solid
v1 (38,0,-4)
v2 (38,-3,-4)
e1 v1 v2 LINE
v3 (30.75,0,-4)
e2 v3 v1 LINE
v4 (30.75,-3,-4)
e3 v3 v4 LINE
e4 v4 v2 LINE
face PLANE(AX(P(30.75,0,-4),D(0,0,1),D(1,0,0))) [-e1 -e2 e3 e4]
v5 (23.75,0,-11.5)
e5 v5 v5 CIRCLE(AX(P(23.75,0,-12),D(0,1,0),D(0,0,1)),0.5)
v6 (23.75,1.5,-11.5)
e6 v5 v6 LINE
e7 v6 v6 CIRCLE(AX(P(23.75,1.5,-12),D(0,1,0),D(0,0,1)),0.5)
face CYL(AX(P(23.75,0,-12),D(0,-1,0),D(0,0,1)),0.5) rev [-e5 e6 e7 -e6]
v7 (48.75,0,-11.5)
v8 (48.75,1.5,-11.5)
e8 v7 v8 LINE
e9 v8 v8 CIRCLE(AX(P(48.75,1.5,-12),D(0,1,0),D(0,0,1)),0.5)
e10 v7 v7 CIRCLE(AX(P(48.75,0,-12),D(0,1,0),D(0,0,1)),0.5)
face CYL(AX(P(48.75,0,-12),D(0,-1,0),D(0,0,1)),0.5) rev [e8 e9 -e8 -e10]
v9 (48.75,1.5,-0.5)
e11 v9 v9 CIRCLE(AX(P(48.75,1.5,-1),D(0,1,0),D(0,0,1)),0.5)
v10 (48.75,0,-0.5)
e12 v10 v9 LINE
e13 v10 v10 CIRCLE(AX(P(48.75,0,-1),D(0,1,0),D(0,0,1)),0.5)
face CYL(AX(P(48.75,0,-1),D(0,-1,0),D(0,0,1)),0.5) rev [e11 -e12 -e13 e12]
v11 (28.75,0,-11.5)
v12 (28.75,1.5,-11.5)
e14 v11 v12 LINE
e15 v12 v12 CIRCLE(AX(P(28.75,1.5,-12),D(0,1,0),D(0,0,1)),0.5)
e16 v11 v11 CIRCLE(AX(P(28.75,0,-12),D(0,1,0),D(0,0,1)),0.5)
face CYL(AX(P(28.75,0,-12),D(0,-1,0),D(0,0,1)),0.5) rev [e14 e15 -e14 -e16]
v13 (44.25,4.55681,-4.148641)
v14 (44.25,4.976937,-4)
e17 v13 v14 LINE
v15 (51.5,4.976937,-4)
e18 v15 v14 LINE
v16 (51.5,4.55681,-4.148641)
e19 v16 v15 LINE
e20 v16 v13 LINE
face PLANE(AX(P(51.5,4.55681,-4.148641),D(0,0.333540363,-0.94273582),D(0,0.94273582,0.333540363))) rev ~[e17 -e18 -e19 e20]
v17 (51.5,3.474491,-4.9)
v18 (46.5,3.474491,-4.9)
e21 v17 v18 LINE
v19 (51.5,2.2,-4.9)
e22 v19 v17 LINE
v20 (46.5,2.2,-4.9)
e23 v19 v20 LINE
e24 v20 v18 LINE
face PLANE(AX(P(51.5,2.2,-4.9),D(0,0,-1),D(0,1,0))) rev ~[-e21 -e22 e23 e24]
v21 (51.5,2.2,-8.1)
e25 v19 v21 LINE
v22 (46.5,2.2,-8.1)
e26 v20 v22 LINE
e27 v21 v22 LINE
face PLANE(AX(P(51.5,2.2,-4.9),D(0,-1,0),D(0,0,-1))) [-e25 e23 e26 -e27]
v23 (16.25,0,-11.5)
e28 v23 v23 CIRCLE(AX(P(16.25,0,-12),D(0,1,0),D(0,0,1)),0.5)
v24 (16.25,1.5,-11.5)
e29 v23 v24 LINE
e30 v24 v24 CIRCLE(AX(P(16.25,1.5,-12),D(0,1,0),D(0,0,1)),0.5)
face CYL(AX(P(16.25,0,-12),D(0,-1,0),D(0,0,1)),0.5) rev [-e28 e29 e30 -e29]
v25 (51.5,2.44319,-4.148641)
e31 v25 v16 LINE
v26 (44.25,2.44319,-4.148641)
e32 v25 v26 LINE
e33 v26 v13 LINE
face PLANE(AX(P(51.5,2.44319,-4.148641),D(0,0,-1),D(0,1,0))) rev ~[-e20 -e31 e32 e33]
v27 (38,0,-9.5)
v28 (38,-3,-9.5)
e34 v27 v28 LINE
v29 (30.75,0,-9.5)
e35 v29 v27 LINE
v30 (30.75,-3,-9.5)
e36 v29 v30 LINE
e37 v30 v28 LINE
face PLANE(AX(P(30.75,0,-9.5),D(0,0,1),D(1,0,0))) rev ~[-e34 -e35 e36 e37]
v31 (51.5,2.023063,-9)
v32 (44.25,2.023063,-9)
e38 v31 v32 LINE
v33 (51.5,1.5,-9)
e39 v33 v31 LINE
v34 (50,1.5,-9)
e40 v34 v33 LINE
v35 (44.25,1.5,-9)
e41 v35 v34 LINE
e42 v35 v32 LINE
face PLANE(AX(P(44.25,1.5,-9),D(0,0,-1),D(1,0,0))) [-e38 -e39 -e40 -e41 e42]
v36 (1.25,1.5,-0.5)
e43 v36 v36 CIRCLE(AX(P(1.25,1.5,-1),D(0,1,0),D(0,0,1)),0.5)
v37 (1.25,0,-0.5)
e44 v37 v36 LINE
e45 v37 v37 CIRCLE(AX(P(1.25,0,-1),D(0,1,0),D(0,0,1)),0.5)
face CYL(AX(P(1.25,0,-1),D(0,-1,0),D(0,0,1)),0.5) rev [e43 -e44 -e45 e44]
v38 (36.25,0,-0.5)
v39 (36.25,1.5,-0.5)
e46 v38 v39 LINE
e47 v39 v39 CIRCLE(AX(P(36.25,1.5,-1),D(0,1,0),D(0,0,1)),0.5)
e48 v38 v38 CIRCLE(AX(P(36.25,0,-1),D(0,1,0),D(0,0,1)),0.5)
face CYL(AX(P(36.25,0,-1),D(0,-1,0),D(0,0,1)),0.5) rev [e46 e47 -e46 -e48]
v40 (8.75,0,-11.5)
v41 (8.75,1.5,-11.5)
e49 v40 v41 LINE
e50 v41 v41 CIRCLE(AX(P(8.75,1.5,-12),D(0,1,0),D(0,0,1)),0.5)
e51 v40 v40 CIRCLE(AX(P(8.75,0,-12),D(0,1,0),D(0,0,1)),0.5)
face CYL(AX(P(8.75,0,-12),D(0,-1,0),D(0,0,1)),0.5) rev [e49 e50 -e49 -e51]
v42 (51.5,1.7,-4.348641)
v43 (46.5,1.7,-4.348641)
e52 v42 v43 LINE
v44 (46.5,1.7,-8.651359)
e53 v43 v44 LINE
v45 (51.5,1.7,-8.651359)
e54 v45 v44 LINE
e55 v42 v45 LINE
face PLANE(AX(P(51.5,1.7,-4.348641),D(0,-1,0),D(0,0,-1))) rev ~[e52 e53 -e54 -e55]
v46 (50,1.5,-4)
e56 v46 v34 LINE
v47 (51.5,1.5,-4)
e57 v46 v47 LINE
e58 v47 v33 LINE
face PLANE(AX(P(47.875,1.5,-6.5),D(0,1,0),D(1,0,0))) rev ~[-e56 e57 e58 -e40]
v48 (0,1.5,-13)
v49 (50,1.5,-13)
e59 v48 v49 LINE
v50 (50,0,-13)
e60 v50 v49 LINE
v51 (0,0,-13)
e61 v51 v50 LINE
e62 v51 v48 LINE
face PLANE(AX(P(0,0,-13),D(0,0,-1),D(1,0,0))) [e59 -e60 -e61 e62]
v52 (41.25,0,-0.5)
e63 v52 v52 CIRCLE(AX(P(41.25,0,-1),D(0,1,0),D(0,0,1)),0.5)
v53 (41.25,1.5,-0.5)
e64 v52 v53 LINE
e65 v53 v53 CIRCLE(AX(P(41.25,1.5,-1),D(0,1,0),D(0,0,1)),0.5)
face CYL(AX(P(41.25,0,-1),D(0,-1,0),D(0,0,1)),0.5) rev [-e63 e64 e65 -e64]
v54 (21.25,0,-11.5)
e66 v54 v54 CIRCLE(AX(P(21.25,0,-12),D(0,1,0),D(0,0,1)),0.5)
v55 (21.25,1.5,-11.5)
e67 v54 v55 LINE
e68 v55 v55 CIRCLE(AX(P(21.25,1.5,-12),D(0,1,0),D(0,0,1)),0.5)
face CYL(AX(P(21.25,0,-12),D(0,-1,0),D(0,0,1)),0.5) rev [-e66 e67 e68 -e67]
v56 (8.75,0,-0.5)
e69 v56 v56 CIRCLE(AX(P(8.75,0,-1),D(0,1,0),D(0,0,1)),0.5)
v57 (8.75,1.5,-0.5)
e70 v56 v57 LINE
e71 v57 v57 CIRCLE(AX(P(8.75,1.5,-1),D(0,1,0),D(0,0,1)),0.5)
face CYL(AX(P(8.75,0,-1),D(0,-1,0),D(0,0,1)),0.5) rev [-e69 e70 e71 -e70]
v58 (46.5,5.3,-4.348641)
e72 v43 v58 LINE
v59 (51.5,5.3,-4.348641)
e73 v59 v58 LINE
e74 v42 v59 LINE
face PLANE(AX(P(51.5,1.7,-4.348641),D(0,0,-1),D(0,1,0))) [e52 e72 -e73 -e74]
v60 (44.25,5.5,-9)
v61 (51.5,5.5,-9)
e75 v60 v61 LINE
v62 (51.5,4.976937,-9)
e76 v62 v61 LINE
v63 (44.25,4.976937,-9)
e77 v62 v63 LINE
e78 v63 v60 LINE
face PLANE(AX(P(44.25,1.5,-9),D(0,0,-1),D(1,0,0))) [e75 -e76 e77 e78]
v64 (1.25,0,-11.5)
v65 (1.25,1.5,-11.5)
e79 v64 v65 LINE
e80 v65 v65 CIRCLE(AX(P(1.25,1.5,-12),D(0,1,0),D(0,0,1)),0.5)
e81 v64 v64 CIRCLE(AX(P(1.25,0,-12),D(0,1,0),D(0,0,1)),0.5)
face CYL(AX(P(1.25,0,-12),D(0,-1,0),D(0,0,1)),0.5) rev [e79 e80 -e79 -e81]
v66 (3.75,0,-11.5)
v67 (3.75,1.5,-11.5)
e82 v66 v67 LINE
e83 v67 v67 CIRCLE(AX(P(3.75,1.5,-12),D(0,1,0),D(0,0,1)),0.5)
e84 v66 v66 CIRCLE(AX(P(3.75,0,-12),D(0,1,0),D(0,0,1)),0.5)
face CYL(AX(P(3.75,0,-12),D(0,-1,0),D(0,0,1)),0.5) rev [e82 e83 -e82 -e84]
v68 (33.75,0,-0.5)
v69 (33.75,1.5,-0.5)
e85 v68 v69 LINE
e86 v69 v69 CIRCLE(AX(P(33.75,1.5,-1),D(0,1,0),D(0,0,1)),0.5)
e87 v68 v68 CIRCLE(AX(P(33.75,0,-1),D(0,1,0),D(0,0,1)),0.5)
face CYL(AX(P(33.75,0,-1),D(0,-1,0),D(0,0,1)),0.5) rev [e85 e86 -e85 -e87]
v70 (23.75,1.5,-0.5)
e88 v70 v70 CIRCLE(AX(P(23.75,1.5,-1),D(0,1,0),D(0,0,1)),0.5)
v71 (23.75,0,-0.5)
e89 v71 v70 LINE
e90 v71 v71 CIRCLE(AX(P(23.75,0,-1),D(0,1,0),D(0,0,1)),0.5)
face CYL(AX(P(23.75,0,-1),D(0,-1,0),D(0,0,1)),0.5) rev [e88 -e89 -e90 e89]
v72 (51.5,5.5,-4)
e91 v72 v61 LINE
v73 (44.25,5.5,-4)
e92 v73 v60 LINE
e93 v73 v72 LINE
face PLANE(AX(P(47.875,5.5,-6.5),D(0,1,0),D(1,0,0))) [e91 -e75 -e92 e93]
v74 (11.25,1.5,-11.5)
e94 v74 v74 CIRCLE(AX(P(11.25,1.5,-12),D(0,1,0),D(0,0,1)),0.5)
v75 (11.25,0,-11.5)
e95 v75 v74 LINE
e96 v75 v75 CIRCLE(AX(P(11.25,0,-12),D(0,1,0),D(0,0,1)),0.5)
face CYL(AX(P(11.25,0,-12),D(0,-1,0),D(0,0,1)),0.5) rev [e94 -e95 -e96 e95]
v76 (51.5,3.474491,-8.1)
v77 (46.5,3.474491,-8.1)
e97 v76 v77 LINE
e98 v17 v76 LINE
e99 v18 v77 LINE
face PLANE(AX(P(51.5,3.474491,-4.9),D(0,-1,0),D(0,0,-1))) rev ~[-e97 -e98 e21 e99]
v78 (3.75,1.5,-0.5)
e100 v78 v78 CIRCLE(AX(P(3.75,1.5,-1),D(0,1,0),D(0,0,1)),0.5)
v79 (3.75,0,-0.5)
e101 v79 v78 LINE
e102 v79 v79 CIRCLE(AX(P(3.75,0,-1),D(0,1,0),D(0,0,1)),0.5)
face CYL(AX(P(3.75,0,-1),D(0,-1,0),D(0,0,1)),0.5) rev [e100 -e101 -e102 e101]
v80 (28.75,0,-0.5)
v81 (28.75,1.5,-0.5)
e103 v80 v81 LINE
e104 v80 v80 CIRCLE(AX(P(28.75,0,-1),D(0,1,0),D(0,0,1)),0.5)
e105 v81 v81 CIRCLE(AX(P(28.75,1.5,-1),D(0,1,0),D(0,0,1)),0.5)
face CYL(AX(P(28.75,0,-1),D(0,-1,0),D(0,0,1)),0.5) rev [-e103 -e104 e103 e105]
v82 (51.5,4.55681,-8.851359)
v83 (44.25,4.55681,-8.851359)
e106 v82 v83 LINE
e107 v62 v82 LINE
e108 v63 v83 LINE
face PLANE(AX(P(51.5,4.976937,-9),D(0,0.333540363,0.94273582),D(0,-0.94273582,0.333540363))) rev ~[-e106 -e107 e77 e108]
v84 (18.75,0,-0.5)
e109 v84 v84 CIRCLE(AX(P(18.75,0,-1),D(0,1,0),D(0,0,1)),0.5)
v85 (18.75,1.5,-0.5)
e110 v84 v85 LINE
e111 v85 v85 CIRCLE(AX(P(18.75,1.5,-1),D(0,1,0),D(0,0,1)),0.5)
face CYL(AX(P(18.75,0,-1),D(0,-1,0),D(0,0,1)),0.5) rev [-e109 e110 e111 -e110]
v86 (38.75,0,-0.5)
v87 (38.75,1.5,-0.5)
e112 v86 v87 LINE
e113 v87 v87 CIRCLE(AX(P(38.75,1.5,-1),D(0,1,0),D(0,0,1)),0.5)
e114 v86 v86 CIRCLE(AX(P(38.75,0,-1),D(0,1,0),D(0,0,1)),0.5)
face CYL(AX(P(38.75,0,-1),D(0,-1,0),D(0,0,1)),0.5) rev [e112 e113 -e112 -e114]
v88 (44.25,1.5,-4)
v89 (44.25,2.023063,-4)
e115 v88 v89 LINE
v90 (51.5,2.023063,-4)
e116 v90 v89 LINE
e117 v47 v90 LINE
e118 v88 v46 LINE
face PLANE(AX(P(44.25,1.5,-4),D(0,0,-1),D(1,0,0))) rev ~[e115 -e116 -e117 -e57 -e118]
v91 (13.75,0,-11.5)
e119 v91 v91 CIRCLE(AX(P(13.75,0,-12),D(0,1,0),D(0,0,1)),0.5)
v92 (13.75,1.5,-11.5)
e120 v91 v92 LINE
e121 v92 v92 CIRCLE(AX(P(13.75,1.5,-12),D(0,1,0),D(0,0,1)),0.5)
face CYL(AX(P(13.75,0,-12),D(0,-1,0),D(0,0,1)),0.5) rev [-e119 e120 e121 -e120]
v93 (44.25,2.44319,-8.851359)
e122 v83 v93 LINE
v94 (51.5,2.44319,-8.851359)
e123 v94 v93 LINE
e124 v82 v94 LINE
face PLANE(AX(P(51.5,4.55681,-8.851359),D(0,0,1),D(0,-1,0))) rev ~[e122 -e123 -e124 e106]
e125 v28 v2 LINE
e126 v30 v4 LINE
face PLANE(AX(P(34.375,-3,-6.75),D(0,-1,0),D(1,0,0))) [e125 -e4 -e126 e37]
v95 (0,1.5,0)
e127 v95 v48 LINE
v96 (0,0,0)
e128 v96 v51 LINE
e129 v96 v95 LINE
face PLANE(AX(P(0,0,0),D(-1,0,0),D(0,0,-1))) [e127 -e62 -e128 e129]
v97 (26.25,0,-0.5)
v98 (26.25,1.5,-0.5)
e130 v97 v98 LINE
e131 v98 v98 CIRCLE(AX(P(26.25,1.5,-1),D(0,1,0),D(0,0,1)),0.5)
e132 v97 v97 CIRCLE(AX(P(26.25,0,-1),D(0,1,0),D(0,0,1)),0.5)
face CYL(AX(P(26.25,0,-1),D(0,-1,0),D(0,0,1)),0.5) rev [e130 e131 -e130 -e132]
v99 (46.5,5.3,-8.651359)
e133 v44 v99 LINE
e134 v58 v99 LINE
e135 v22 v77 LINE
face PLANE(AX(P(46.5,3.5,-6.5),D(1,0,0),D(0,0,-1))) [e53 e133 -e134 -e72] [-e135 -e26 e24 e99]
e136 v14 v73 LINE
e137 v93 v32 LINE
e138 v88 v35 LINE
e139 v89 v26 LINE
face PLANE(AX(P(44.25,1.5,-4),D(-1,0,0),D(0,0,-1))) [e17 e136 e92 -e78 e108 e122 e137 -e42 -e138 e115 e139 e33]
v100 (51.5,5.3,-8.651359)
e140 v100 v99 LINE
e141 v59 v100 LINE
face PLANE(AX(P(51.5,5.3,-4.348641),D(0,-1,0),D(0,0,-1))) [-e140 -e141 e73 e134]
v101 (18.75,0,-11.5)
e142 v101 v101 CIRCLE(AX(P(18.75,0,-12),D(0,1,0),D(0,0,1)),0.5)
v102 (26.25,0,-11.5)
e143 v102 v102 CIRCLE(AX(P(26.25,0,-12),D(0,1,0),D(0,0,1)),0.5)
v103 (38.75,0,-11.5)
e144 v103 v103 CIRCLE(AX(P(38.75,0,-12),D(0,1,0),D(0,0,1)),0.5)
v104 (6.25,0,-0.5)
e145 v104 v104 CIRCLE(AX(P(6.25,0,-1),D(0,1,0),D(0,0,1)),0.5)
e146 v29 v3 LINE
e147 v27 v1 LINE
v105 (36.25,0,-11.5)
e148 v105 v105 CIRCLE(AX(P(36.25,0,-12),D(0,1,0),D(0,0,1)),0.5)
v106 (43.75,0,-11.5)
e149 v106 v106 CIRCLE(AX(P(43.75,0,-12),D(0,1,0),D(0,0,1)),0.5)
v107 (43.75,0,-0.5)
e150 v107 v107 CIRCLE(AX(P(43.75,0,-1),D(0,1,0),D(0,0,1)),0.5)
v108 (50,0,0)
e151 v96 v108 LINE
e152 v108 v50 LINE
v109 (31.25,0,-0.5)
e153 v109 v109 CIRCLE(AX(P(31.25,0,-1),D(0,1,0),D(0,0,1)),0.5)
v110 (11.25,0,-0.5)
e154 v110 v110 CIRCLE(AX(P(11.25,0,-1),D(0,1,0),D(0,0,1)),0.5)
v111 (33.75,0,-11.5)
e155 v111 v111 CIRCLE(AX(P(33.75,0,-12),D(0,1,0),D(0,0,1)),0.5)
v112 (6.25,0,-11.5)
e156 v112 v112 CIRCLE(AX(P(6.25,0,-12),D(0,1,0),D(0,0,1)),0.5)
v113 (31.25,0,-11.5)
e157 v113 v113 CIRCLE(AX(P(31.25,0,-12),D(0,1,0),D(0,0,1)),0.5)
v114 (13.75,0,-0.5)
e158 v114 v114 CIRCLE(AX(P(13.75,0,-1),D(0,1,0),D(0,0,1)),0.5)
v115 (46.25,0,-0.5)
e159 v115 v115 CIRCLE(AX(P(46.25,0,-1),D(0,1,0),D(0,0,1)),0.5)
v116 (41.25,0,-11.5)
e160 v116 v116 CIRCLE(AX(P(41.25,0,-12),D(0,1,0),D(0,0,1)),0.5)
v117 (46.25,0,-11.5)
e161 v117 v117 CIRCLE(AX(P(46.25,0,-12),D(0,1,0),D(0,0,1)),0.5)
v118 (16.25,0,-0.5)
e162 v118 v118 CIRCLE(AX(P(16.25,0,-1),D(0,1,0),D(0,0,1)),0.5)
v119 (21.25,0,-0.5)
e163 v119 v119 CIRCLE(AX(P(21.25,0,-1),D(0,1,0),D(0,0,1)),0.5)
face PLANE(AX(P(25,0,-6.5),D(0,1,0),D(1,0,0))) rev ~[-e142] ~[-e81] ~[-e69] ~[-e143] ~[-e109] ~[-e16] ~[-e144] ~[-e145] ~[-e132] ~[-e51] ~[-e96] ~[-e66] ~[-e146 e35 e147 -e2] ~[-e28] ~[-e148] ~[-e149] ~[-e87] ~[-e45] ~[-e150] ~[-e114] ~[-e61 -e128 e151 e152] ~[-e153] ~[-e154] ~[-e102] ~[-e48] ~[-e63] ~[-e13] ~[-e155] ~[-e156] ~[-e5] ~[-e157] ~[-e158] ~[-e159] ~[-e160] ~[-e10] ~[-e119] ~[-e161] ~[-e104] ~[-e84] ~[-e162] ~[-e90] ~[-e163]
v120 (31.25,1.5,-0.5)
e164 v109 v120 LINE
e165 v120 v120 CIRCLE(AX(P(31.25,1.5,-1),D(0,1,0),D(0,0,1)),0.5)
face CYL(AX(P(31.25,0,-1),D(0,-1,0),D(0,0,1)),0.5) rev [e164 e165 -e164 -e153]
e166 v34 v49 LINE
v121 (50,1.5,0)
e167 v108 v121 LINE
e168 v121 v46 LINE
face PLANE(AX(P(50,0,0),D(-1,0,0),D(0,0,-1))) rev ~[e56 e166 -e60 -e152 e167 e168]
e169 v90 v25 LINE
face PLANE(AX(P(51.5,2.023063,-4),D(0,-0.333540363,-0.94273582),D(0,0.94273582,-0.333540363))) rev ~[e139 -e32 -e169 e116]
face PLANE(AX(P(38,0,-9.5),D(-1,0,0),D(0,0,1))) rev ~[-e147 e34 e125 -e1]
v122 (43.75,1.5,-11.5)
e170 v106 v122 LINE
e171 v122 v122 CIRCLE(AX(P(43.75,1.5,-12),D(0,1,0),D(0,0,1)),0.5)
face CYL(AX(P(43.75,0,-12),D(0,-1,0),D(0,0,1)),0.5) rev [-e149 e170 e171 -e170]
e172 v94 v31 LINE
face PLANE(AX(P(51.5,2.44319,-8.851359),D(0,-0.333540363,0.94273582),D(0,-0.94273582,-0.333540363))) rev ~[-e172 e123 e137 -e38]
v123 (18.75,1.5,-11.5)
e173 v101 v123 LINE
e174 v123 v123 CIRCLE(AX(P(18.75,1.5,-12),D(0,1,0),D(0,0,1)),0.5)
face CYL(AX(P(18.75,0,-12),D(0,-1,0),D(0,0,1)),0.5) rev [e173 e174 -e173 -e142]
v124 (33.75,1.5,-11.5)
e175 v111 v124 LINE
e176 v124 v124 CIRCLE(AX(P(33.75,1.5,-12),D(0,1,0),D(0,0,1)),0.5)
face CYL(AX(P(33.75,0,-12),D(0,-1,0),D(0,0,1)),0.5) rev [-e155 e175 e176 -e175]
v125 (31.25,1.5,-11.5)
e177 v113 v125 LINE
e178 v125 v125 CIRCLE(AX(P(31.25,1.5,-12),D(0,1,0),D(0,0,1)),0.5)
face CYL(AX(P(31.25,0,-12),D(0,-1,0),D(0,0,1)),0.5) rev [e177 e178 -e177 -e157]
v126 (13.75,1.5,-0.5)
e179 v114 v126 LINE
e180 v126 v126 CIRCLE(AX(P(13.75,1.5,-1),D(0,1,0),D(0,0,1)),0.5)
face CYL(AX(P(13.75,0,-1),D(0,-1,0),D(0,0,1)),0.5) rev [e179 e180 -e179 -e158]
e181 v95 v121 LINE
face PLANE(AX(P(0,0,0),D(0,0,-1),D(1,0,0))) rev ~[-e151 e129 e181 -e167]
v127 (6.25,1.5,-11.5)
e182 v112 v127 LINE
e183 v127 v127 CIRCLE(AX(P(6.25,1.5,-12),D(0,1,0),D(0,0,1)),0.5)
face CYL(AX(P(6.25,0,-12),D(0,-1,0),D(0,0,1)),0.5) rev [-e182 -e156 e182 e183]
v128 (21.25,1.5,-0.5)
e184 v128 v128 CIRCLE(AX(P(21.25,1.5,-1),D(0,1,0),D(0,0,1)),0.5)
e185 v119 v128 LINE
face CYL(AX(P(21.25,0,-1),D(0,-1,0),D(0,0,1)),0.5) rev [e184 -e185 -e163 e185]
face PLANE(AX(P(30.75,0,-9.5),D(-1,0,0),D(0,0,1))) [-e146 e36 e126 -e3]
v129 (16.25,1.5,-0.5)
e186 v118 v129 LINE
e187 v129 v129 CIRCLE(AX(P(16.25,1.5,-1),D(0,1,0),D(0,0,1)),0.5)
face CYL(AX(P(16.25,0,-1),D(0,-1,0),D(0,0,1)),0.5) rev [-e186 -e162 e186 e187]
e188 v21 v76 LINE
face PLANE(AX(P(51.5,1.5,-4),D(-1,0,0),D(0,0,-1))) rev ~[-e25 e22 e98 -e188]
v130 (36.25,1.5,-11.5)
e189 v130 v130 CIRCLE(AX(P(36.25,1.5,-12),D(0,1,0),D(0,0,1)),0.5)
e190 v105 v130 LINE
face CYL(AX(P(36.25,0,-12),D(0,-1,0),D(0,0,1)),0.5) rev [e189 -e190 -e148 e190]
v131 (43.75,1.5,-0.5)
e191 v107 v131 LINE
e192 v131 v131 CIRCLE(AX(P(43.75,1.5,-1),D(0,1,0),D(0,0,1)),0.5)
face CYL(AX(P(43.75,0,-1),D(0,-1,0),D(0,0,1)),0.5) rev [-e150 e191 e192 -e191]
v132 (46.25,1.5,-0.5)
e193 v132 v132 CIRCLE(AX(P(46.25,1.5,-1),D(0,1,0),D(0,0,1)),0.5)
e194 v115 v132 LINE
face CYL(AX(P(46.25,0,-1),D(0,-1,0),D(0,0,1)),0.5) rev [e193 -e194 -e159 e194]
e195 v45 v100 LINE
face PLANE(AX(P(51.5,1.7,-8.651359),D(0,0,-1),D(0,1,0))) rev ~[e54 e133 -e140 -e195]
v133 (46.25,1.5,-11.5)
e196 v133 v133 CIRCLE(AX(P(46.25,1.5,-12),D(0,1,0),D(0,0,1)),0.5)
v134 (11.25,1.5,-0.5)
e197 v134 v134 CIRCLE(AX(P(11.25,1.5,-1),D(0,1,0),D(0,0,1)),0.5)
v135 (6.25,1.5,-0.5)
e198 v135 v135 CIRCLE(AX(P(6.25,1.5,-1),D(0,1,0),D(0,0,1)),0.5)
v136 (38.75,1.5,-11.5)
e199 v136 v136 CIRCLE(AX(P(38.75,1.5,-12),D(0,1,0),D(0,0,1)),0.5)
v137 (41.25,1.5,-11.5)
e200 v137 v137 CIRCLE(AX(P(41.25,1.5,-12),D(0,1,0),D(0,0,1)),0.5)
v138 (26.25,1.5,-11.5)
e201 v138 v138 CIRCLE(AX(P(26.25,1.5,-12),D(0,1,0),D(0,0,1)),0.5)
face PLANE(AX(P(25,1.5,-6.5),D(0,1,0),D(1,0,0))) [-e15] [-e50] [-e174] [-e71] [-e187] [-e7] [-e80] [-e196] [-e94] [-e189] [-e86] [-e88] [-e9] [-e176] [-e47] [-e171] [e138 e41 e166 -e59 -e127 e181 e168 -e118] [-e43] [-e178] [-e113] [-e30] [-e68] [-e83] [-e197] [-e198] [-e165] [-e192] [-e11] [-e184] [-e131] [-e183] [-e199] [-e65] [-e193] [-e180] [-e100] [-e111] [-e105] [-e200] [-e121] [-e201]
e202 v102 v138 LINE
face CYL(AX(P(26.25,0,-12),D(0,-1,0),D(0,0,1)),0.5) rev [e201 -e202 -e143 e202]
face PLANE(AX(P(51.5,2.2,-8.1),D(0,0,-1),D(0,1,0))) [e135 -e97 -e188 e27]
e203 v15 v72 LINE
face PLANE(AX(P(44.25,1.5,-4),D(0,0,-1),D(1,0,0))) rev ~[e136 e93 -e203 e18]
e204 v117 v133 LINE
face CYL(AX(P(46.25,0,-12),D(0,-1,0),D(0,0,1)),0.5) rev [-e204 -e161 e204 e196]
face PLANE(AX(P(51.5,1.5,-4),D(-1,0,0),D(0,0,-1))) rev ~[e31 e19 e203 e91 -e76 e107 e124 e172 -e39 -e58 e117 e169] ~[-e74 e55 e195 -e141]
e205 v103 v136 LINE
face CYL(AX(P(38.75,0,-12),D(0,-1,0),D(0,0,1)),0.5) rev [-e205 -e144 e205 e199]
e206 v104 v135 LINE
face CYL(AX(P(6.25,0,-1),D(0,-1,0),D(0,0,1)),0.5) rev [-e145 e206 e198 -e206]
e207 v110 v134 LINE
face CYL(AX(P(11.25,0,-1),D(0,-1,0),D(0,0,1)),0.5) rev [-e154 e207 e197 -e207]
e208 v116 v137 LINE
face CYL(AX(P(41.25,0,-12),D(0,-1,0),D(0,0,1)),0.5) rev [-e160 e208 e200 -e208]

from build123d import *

# Parameters (mm, degrees)
SKETCH_1_W          = 50
SKETCH_1_H          = 13
SKETCH_1_R          = 0.5
EXTRUDE_1_DEPTH     = 1.5
SKETCH_3_W          = 7.25
SKETCH_3_H          = 5
EXTRUDE_2_DEPTH     = 4
SKETCH_4_W          = 7.25
SKETCH_4_H          = 5.5
EXTRUDE_3_DEPTH     = 3
CUT_EXTRUDE_1_DEPTH = 7.25
SKETCH_6_W          = 4.302717404
SKETCH_6_H          = 3.6
SKETCH_6_W_2        = 3.2
SKETCH_6_H_2        = 1.274490689
CUT_EXTRUDE_2_DEPTH = 5


with BuildPart() as part:
    # Эскиз1 → Бобышка-Вытянуть1 (new body)
    with BuildSketch(Plane(origin=(0, 0, 0), x_dir=(1, 0, 0), z_dir=(0, 1, 0))):
        with Locations((25, 6.5)):
            Rectangle(SKETCH_1_W, SKETCH_1_H)
        with Locations(Location((1.25, 12, 0), (0, 0, 270))):
            Circle(SKETCH_1_R, mode=Mode.SUBTRACT)
        with Locations(Location((3.75, 12, 0), (0, 0, 270))):
            Circle(SKETCH_1_R, mode=Mode.SUBTRACT)
        with Locations(Location((6.25, 12, 0), (0, 0, 270))):
            Circle(SKETCH_1_R, mode=Mode.SUBTRACT)
        with Locations(Location((8.75, 12, 0), (0, 0, 270))):
            Circle(SKETCH_1_R, mode=Mode.SUBTRACT)
        with Locations(Location((11.25, 12, 0), (0, 0, 270))):
            Circle(SKETCH_1_R, mode=Mode.SUBTRACT)
        with Locations(Location((13.75, 12, 0), (0, 0, 270))):
            Circle(SKETCH_1_R, mode=Mode.SUBTRACT)
        with Locations(Location((16.25, 12, 0), (0, 0, 270))):
            Circle(SKETCH_1_R, mode=Mode.SUBTRACT)
        with Locations(Location((18.75, 12, 0), (0, 0, 270))):
            Circle(SKETCH_1_R, mode=Mode.SUBTRACT)
        with Locations(Location((21.25, 12, 0), (0, 0, 270))):
            Circle(SKETCH_1_R, mode=Mode.SUBTRACT)
        with Locations(Location((23.75, 12, 0), (0, 0, 270))):
            Circle(SKETCH_1_R, mode=Mode.SUBTRACT)
        with Locations(Location((26.25, 12, 0), (0, 0, 270))):
            Circle(SKETCH_1_R, mode=Mode.SUBTRACT)
        with Locations(Location((28.75, 12, 0), (0, 0, 270))):
            Circle(SKETCH_1_R, mode=Mode.SUBTRACT)
        with Locations(Location((31.25, 12, 0), (0, 0, 270))):
            Circle(SKETCH_1_R, mode=Mode.SUBTRACT)
        with Locations(Location((33.75, 12, 0), (0, 0, 270))):
            Circle(SKETCH_1_R, mode=Mode.SUBTRACT)
        with Locations(Location((36.25, 12, 0), (0, 0, 270))):
            Circle(SKETCH_1_R, mode=Mode.SUBTRACT)
        with Locations(Location((3.75, 1, 0), (0, 0, 270))):
            Circle(SKETCH_1_R, mode=Mode.SUBTRACT)
        with Locations(Location((6.25, 1, 0), (0, 0, 270))):
            Circle(SKETCH_1_R, mode=Mode.SUBTRACT)
        with Locations(Location((8.75, 1, 0), (0, 0, 270))):
            Circle(SKETCH_1_R, mode=Mode.SUBTRACT)
        with Locations(Location((11.25, 1, 0), (0, 0, 270))):
            Circle(SKETCH_1_R, mode=Mode.SUBTRACT)
        with Locations(Location((13.75, 1, 0), (0, 0, 270))):
            Circle(SKETCH_1_R, mode=Mode.SUBTRACT)
        with Locations(Location((16.25, 1, 0), (0, 0, 270))):
            Circle(SKETCH_1_R, mode=Mode.SUBTRACT)
        with Locations(Location((18.75, 1, 0), (0, 0, 270))):
            Circle(SKETCH_1_R, mode=Mode.SUBTRACT)
        with Locations(Location((21.25, 1, 0), (0, 0, 270))):
            Circle(SKETCH_1_R, mode=Mode.SUBTRACT)
        with Locations(Location((23.75, 1, 0), (0, 0, 270))):
            Circle(SKETCH_1_R, mode=Mode.SUBTRACT)
        with Locations(Location((26.25, 1, 0), (0, 0, 270))):
            Circle(SKETCH_1_R, mode=Mode.SUBTRACT)
        with Locations(Location((28.75, 1, 0), (0, 0, 270))):
            Circle(SKETCH_1_R, mode=Mode.SUBTRACT)
        with Locations(Location((31.25, 1, 0), (0, 0, 270))):
            Circle(SKETCH_1_R, mode=Mode.SUBTRACT)
        with Locations(Location((33.75, 1, 0), (0, 0, 270))):
            Circle(SKETCH_1_R, mode=Mode.SUBTRACT)
        with Locations(Location((36.25, 1, 0), (0, 0, 270))):
            Circle(SKETCH_1_R, mode=Mode.SUBTRACT)
        with Locations(Location((1.25, 1, 0), (0, 0, 270))):
            Circle(SKETCH_1_R, mode=Mode.SUBTRACT)
        with Locations(Location((38.75, 12, 0), (0, 0, 270))):
            Circle(SKETCH_1_R, mode=Mode.SUBTRACT)
        with Locations(Location((41.25, 12, 0), (0, 0, 270))):
            Circle(SKETCH_1_R, mode=Mode.SUBTRACT)
        with Locations(Location((43.75, 12, 0), (0, 0, 270))):
            Circle(SKETCH_1_R, mode=Mode.SUBTRACT)
        with Locations(Location((46.25, 12, 0), (0, 0, 270))):
            Circle(SKETCH_1_R, mode=Mode.SUBTRACT)
        with Locations(Location((48.75, 12, 0), (0, 0, 270))):
            Circle(SKETCH_1_R, mode=Mode.SUBTRACT)
        with Locations(Location((38.75, 1, 0), (0, 0, 270))):
            Circle(SKETCH_1_R, mode=Mode.SUBTRACT)
        with Locations(Location((41.25, 1, 0), (0, 0, 270))):
            Circle(SKETCH_1_R, mode=Mode.SUBTRACT)
        with Locations(Location((43.75, 1, 0), (0, 0, 270))):
            Circle(SKETCH_1_R, mode=Mode.SUBTRACT)
        with Locations(Location((46.25, 1, 0), (0, 0, 270))):
            Circle(SKETCH_1_R, mode=Mode.SUBTRACT)
        with Locations(Location((48.75, 1, 0), (0, 0, 270))):
            Circle(SKETCH_1_R, mode=Mode.SUBTRACT)
    extrude(amount=EXTRUDE_1_DEPTH)

    # Эскиз3 → Бобышка-Вытянуть2 (add)
    with BuildSketch(Plane(origin=(0, 1.5, 0), x_dir=(1, 0, 0), z_dir=(0, 1, 0))):
        with Locations((47.875, 6.5)):
            Rectangle(SKETCH_3_W, SKETCH_3_H)
    extrude(amount=EXTRUDE_2_DEPTH)

    # Эскиз4 → Бобышка-Вытянуть3 (add)
    with BuildSketch(Plane.XZ):
        with Locations((34.375, -6.75)):
            Rectangle(SKETCH_4_W, SKETCH_4_H)
    extrude(amount=EXTRUDE_3_DEPTH)

    # Эскиз5 → Вырез-Вытянуть1 (cut)
    with BuildSketch(Plane(origin=(51.5, 0, 0), x_dir=(0, 0, -1), z_dir=(1, 0, 0))):
        Polygon((4.148641298, 4.556809932), (4, 4.976937423), (4, 2.023062577), (4.148641298, 2.443190068), (4.148641298, 3.459627547), (4.148641298, 3.540372453), align=None)
        Polygon((9, 2.023062577), (9, 4.976937423), (8.851358702, 4.556809932), (8.851358702, 3.540372453), (8.851358702, 3.459627547), (8.851358702, 2.443190068), align=None)
    extrude(amount=-CUT_EXTRUDE_1_DEPTH, mode=Mode.SUBTRACT)

    # Эскиз6 → Вырез-Вытянуть2 (cut)
    with BuildSketch(Plane(origin=(51.5, 0, 0), x_dir=(0, 0, -1), z_dir=(1, 0, 0))):
        with Locations((6.5, 3.5)):
            Rectangle(SKETCH_6_W, SKETCH_6_H)
        with Locations((6.5, 2.837245345)):
            Rectangle(SKETCH_6_W_2, SKETCH_6_H_2, mode=Mode.SUBTRACT)
    extrude(amount=-CUT_EXTRUDE_2_DEPTH, mode=Mode.SUBTRACT)


solid = part.part
